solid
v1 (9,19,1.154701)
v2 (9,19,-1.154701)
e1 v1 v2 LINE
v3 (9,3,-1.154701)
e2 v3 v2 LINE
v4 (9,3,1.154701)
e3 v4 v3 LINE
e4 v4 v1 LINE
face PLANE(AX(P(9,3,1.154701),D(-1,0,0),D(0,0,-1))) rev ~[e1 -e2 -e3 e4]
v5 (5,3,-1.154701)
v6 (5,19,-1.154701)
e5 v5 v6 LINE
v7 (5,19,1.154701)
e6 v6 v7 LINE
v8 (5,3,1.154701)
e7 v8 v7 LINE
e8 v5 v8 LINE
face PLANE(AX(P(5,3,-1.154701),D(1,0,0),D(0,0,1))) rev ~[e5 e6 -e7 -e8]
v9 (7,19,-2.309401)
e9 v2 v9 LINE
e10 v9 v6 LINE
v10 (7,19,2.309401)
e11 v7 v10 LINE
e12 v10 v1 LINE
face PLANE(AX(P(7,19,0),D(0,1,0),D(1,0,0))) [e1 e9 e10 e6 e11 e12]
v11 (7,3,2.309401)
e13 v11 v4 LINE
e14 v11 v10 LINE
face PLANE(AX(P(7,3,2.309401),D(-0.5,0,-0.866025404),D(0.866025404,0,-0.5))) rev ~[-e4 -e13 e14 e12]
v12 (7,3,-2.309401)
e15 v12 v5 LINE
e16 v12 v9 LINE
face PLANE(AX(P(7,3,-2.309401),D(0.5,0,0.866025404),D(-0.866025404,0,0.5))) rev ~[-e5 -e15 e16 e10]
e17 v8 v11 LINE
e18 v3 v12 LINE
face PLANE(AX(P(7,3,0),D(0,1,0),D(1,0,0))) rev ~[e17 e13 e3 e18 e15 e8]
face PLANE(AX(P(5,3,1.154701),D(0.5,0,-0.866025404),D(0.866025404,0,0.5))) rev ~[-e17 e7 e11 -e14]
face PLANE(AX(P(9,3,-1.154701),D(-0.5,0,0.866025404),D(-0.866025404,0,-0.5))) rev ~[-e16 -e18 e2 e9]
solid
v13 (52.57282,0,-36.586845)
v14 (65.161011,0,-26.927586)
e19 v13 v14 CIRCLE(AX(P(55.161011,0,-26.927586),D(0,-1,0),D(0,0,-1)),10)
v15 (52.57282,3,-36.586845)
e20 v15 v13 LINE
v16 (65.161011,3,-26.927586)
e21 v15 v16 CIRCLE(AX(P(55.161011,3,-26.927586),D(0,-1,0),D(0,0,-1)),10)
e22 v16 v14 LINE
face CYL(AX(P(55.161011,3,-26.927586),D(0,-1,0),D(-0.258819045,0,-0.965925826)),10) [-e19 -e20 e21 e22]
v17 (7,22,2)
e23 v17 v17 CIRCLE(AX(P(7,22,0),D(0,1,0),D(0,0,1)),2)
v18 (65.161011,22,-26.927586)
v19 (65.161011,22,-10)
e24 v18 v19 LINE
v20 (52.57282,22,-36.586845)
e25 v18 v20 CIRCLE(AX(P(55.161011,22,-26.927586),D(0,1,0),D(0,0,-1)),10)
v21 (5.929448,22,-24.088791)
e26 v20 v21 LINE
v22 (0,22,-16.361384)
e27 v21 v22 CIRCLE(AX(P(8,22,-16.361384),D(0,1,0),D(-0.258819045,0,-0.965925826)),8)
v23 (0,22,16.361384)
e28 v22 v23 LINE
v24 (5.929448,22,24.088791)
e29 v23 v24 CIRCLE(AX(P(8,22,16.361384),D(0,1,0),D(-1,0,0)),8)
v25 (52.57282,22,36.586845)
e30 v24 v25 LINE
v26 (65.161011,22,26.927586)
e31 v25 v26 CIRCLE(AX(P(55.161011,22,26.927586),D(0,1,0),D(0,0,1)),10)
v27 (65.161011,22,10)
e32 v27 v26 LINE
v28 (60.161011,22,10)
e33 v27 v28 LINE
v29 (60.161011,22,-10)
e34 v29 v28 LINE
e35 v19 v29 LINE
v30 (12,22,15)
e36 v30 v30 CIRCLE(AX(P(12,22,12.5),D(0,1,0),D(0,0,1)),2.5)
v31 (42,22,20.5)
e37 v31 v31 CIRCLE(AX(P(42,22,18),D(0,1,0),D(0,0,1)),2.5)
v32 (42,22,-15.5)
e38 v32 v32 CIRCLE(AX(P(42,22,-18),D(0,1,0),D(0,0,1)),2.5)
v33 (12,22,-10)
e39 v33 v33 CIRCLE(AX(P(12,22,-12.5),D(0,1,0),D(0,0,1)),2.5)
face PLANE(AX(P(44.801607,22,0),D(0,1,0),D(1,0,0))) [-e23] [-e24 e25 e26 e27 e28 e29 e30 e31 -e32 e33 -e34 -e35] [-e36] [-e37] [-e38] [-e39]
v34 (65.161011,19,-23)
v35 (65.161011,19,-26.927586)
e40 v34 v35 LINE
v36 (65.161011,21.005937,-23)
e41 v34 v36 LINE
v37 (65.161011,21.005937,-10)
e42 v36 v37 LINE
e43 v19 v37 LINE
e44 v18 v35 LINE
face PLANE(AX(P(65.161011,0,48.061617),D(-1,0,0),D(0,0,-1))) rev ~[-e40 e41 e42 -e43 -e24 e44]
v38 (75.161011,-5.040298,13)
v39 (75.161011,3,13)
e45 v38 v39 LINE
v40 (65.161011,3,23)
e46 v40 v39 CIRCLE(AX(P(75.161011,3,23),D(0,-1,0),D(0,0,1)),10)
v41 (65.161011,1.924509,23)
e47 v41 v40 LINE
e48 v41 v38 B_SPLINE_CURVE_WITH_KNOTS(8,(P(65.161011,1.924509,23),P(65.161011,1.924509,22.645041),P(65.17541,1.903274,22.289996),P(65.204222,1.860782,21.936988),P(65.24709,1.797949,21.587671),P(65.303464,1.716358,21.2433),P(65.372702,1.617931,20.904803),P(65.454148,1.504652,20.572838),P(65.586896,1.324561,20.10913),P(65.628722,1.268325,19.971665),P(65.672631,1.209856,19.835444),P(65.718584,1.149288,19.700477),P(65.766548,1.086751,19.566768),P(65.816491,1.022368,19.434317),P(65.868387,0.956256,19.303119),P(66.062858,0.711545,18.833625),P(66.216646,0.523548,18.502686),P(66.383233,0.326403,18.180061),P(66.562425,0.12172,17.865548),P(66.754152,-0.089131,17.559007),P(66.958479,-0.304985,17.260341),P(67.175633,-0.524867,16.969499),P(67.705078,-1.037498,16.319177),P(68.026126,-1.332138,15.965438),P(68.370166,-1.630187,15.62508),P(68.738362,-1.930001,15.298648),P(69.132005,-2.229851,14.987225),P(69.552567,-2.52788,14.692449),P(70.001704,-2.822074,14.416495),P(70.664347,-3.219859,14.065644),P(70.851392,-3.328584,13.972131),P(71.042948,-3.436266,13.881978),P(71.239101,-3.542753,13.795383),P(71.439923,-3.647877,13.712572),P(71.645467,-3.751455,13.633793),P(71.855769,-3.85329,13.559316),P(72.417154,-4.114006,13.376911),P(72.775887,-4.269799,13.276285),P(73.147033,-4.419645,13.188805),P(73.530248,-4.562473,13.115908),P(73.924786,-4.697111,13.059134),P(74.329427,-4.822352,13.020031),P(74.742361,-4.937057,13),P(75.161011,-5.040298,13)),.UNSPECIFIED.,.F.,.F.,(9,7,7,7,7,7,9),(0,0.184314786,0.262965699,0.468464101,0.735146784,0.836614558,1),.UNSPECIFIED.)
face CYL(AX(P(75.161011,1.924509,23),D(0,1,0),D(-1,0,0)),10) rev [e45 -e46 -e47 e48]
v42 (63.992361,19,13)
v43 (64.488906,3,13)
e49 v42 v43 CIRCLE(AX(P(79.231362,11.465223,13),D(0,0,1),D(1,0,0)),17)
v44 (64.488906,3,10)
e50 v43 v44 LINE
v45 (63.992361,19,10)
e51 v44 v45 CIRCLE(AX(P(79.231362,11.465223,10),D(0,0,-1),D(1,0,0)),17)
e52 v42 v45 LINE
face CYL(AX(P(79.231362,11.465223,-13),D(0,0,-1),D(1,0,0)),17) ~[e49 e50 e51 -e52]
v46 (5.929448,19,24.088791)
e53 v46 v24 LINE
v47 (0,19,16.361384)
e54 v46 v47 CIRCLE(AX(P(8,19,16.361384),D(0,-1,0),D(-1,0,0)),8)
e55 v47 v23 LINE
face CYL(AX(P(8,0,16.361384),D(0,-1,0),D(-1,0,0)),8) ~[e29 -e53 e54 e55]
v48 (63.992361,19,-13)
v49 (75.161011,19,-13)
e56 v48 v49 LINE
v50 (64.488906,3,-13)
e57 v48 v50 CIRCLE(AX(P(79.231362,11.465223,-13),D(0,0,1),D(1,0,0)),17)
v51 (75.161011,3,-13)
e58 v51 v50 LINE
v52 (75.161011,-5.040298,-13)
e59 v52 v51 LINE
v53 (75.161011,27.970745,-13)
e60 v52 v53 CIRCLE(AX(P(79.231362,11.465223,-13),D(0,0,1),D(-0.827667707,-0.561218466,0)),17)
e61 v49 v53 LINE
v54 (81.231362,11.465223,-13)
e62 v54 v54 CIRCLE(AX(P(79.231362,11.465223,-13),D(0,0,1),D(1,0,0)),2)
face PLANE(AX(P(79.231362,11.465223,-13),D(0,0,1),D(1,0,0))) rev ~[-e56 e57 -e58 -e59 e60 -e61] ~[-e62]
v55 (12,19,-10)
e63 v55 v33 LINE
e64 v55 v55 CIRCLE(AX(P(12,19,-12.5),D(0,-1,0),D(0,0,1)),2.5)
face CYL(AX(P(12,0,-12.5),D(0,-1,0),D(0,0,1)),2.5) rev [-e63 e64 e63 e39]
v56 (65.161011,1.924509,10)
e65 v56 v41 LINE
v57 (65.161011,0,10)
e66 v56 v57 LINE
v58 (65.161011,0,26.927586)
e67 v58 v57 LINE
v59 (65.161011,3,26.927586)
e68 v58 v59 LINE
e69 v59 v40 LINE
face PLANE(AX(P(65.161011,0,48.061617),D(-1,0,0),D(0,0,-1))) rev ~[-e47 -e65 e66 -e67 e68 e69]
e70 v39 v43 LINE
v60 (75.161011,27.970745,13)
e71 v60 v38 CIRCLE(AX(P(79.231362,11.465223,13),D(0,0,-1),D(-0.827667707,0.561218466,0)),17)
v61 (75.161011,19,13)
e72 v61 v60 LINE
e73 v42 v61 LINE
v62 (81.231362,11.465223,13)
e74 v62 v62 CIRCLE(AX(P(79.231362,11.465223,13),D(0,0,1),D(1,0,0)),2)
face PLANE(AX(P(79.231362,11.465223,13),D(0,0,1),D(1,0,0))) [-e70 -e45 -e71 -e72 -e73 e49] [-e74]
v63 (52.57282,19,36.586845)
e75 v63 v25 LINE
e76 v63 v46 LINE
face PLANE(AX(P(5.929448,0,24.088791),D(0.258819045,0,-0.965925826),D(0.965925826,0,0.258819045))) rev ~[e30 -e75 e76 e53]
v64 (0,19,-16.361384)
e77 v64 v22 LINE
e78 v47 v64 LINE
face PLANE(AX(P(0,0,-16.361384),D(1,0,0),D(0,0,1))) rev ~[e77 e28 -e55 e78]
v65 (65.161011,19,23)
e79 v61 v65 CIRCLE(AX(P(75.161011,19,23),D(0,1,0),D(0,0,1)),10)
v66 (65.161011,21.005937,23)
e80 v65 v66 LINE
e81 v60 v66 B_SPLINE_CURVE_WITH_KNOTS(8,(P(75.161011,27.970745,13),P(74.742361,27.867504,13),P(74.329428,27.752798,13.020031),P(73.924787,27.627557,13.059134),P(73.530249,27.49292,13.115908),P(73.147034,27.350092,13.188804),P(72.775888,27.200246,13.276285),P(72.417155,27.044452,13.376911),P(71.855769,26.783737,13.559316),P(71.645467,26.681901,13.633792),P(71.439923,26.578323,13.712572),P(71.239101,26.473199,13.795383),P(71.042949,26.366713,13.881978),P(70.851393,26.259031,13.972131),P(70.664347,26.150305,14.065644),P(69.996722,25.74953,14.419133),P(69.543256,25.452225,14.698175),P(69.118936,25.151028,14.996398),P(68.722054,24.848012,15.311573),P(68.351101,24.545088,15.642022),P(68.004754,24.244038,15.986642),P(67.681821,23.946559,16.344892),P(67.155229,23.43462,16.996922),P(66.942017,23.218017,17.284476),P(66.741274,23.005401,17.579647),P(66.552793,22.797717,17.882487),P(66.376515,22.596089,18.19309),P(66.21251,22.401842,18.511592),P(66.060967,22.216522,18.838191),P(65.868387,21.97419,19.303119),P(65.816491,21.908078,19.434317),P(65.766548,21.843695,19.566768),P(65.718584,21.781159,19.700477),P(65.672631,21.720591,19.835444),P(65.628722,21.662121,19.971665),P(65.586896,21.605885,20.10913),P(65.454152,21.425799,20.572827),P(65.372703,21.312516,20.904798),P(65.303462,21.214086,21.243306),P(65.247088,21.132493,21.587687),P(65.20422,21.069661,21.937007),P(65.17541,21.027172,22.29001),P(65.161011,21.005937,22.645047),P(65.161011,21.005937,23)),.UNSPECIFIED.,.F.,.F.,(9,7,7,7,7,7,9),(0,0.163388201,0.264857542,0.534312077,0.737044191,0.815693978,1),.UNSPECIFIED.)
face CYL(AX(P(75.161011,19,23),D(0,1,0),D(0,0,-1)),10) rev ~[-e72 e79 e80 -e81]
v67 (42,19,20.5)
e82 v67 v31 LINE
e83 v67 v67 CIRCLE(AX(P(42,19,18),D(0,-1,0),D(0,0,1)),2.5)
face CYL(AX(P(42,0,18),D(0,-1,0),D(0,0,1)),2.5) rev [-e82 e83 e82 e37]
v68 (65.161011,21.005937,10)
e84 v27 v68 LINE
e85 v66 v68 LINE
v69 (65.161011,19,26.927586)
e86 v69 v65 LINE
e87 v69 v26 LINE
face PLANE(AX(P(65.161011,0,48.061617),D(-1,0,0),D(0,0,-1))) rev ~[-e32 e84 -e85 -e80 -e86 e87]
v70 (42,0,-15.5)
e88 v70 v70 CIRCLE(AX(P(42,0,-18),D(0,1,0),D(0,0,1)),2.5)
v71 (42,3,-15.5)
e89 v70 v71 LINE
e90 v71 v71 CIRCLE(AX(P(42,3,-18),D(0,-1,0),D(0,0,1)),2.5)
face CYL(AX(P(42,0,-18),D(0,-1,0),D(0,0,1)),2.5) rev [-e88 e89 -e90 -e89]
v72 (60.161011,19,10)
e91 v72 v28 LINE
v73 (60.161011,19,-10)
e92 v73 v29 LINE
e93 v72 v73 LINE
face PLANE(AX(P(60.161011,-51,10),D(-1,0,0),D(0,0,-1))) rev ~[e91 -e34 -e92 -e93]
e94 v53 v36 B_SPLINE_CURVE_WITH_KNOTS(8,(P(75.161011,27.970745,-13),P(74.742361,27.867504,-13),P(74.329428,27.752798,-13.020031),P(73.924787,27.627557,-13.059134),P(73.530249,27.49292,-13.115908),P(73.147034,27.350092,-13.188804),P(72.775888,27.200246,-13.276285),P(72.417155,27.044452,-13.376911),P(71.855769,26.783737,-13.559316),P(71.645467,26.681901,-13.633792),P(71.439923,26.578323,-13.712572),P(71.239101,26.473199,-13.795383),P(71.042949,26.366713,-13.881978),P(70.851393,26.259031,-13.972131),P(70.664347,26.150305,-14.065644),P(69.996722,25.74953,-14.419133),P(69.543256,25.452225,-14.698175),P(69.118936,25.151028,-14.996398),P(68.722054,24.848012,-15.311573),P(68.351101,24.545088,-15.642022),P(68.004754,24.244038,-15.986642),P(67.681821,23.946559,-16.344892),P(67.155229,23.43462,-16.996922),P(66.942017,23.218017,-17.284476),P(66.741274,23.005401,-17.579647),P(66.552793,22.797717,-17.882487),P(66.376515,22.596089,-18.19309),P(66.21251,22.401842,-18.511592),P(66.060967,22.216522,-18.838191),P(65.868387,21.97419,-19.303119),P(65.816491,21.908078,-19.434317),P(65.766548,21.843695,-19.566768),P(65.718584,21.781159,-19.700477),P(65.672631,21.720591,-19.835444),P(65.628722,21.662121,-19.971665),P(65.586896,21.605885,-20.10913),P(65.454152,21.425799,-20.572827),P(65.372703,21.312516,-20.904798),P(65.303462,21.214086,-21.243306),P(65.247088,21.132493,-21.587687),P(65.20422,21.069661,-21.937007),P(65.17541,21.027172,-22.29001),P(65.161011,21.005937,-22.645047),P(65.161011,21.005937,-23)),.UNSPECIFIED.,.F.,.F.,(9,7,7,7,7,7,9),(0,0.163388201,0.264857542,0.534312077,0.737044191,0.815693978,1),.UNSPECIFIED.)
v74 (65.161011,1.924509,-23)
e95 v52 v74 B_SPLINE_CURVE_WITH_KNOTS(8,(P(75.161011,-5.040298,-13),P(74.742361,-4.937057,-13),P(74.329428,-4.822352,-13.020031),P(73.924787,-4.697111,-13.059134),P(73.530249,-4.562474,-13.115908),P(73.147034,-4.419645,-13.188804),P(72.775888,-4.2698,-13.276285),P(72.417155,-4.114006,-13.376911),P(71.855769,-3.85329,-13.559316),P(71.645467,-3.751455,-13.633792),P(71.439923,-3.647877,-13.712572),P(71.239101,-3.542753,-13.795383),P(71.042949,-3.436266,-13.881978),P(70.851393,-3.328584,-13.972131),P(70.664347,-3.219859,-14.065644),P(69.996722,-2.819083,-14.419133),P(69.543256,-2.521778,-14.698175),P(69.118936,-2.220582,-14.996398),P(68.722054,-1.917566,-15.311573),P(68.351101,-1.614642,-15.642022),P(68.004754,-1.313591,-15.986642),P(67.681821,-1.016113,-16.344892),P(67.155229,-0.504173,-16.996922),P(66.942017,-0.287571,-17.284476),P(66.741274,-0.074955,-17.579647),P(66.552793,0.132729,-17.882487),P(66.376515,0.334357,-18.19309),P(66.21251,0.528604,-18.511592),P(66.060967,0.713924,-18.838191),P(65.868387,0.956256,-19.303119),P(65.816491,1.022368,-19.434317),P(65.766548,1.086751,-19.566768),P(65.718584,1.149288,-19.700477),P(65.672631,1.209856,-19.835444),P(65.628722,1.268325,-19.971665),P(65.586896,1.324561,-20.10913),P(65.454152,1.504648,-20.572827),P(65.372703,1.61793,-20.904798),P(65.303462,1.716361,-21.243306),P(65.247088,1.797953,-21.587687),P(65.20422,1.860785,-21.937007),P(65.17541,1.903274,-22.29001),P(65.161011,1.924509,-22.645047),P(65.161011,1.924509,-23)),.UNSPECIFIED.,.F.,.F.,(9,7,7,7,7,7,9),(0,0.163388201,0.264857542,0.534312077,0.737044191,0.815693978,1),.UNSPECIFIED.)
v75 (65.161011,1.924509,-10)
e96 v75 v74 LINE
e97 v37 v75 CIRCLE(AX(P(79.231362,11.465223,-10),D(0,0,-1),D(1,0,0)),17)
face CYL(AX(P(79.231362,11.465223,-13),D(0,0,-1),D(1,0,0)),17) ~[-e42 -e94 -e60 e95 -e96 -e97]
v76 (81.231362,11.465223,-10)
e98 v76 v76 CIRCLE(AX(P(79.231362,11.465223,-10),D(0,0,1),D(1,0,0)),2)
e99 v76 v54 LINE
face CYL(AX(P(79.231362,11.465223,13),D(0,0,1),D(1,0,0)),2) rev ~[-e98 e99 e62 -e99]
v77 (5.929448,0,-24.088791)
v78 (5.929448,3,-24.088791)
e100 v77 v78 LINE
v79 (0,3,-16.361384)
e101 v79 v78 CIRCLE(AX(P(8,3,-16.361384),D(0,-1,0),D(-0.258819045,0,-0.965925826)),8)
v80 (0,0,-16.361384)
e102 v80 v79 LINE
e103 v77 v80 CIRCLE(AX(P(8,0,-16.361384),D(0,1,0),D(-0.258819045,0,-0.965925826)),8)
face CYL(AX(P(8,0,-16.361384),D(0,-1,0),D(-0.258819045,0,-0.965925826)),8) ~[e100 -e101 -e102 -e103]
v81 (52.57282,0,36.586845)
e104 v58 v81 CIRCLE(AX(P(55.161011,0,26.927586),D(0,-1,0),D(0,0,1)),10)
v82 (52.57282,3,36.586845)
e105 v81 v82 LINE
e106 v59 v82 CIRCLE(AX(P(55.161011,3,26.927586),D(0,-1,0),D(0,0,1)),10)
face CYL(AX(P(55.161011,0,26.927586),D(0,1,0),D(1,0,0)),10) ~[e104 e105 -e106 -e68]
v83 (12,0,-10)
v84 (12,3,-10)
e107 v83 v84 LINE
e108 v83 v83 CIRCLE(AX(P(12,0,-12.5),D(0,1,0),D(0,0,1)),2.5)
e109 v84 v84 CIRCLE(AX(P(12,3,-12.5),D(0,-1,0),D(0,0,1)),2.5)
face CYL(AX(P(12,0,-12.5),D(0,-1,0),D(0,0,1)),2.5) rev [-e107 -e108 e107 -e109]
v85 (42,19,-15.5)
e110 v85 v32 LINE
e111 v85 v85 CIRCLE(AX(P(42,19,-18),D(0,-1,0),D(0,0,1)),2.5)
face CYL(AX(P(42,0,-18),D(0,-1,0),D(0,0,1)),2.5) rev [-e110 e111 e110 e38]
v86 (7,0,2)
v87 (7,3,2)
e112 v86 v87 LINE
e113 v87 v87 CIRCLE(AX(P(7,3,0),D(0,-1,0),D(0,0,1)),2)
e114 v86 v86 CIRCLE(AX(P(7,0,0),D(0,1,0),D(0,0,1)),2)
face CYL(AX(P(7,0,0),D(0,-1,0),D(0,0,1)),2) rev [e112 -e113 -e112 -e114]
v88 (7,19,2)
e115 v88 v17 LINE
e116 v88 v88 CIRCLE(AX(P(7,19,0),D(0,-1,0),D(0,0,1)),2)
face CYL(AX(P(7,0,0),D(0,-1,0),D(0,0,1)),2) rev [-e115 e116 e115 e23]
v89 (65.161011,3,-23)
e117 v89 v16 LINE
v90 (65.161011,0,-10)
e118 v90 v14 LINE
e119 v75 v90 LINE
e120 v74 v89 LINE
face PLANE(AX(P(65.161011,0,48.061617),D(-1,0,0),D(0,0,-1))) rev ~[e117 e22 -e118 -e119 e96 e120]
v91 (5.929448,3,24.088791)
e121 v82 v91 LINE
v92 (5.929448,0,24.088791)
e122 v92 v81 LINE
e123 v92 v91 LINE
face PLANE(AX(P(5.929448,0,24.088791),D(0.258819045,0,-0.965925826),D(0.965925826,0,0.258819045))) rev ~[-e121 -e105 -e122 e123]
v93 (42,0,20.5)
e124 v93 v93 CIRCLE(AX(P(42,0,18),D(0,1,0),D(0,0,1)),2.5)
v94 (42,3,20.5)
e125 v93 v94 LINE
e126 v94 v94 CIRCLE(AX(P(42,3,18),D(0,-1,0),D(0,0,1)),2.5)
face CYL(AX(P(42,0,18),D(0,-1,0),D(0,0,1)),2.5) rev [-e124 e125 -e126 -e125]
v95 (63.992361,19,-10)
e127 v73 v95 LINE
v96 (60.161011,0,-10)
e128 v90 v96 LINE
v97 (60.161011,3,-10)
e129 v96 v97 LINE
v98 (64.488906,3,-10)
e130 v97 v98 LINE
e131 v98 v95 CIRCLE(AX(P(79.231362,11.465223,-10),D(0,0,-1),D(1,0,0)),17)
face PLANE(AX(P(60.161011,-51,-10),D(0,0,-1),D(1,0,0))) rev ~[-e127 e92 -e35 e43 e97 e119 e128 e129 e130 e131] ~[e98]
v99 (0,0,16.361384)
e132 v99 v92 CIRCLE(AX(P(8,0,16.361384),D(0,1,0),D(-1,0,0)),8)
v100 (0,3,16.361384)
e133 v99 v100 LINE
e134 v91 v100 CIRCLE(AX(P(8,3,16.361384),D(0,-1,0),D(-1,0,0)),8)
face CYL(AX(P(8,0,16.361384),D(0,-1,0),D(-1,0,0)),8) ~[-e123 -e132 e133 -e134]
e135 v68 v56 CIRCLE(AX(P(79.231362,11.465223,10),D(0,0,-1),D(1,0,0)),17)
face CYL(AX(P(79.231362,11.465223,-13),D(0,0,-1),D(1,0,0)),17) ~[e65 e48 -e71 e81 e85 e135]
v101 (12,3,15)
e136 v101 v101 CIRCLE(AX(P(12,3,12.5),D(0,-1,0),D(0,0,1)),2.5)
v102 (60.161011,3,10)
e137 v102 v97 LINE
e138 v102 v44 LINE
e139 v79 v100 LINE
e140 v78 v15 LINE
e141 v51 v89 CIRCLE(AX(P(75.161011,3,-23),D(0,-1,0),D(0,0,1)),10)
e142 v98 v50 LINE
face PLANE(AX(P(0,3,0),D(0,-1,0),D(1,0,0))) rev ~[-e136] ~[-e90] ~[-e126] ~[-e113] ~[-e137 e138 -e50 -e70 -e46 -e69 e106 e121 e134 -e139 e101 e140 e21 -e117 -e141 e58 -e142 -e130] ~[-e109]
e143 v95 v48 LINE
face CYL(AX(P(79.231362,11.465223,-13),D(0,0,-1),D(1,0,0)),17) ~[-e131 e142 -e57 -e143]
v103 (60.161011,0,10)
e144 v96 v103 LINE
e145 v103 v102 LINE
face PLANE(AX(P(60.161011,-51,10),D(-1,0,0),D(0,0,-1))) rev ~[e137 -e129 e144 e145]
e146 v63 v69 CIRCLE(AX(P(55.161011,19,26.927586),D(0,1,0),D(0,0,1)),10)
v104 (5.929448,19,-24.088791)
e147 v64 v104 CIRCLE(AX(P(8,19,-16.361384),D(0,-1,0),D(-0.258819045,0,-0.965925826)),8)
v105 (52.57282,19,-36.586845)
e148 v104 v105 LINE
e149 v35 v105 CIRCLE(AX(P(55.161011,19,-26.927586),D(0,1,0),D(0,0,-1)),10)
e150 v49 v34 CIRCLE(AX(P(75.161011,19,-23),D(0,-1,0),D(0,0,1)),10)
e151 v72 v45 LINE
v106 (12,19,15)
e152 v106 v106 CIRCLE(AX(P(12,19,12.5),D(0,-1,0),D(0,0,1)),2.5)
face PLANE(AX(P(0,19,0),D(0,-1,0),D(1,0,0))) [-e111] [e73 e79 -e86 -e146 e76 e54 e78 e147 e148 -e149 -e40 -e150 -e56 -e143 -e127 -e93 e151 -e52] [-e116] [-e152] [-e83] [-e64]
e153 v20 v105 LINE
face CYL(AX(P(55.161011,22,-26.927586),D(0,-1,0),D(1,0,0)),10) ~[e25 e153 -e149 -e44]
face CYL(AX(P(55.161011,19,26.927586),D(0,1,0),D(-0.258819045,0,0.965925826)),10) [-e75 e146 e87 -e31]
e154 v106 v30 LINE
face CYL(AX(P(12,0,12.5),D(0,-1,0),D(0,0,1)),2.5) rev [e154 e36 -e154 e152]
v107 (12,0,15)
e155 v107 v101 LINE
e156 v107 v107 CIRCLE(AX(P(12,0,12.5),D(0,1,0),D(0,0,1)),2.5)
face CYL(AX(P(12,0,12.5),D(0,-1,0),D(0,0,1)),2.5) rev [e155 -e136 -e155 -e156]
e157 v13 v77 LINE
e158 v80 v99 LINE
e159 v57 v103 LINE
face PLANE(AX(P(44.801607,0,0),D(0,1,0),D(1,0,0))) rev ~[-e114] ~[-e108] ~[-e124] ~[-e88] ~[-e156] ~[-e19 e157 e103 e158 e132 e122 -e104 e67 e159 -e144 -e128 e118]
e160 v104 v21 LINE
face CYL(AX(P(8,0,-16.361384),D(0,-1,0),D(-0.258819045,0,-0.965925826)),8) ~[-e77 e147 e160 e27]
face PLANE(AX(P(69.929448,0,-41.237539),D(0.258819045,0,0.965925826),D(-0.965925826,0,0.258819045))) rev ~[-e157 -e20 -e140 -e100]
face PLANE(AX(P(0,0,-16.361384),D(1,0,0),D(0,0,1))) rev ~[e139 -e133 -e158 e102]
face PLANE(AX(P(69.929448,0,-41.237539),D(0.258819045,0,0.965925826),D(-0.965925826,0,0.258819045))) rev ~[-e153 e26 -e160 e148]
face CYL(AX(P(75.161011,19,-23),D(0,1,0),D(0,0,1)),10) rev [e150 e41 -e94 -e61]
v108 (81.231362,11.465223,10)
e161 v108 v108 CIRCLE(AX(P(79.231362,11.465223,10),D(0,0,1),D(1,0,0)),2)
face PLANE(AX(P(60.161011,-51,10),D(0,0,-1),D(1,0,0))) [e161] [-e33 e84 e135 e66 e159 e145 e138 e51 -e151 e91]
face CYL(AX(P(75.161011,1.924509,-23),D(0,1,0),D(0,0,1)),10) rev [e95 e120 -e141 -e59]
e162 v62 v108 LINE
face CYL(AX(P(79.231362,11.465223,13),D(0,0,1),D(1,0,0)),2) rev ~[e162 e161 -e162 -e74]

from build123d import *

# Parameters (mm, degrees)
CROQUIS1_R                = 2.5
CROQUIS1_R_2              = 2
SALIENTE_EXTRUIR1_DEPTH   = 22
CROQUIS2_W                = 80
CROQUIS2_H                = 16
CORTAR_EXTRUIR1_DEPTH     = 50
SALIENTE_EXTRUIR2_DEPTH   = 16
SALIENTE_EXTRUIR2_2_DEPTH = 16
SALIENTE_EXTRUIR2_3_DEPTH = 16
SKETCH2_W                 = 24.073282634
SKETCH2_H                 = 99.797965629
CUT_EXTRUDE3_DEPTH        = 31
FILLET2_R                 = 10
FILLET3_R                 = 10
BOSS_EXTRUDE1_DEPTH       = 13
BOSS_EXTRUDE1_DEPTH_BACK  = 13
SKETCH3_R                 = 17
CUT_EXTRUDE4_DEPTH        = 51
CUT_EXTRUDE4_DEPTH_BACK   = 51
SKETCH4_W                 = 61.979408986
SKETCH4_H                 = 20
SKETCH5_R                 = 2
CUT_EXTRUDE5_DEPTH        = 51
FILLET4_R                 = 10


with BuildPart() as part:
    # Croquis1 → Saliente-Extruir1 (new body)
    with BuildSketch(Plane(origin=(0, 0, 0), x_dir=(1, 0, 0), z_dir=(0, 1, 0))):
        with BuildLine():
            Line((0, 16.361384096), (0, -16.361384096))
            ThreePointArc((0, -16.361384096), (1.653173278, -21.231475528), (5.929447639, -24.088790706))
            Line((5.929447639, -24.088790706), (69.929447639, -41.237539022))
            ThreePointArc((69.929447639, -41.237539022), (76.870091432, -39.856959134), (80, -33.510132412))
            Line((80, -33.510132412), (80, 33.510132412))
            ThreePointArc((80, 33.510132412), (76.870091432, 39.856959134), (69.929447639, 41.237539022))
            Line((69.929447639, 41.237539022), (5.929447639, 24.088790706))
            ThreePointArc((5.929447639, 24.088790706), (1.653173278, 21.231475528), (0, 16.361384096))
        make_face()
        with Locations((12, 12.5)):
            Circle(CROQUIS1_R, mode=Mode.SUBTRACT)
        with Locations((12, -12.5)):
            Circle(CROQUIS1_R, mode=Mode.SUBTRACT)
        with Locations((42, 18)):
            Circle(CROQUIS1_R, mode=Mode.SUBTRACT)
        with Locations((42, -18)):
            Circle(CROQUIS1_R, mode=Mode.SUBTRACT)
        with Locations((7, 0)):
            Circle(CROQUIS1_R_2, mode=Mode.SUBTRACT)
        with Locations((72, -30)):
            Circle(CROQUIS1_R_2, mode=Mode.SUBTRACT)
        with Locations((72, 30)):
            Circle(CROQUIS1_R_2, mode=Mode.SUBTRACT)
    extrude(amount=SALIENTE_EXTRUIR1_DEPTH)

    # Croquis2 → Cortar-Extruir1 (cut, symmetric)
    with BuildSketch(Plane.XY):
        with Locations((40, 11)):
            Rectangle(CROQUIS2_W, CROQUIS2_H)
    extrude(amount=CORTAR_EXTRUIR1_DEPTH, both=True, mode=Mode.SUBTRACT)


with BuildPart() as cortar_extruir1_piece_1:
    # of the separate pieces the step leaves, piece 1, a body of its own (cortar_extruir1_pieces)
    add(part.part.solids().sort_by_distance((69.929447639, 0, -41.237539022))[0])


with BuildPart() as cortar_extruir1_piece_2:
    # of the separate pieces the step leaves, piece 2, a body of its own (cortar_extruir1_pieces)
    add(part.part.solids().sort_by_distance((5.929447639, 19, -24.088790706))[0])


with BuildPart() as body_3:
    # Croquis3 → Saliente-Extruir2 (new body)
    with BuildSketch(Plane(origin=(0, 3, 0), x_dir=(1, 0, 0), z_dir=(0, 1, 0))):
        Polygon((7, -2.309401077), (9, -1.154700538), (9, 1.154700538), (7, 2.309401077), (5, 1.154700538), (5, -1.154700538), align=None)
    extrude(amount=SALIENTE_EXTRUIR2_DEPTH)


with BuildPart() as body_4:
    # Croquis3 → Saliente-Extruir2 2 (new body)
    with BuildSketch(Plane(origin=(0, 3, 0), x_dir=(1, 0, 0), z_dir=(0, 1, 0))):
        Polygon((70.845299462, -32), (73.154700538, -32), (74.309401077, -30), (73.154700538, -28), (70.845299462, -28), (69.690598923, -30), align=None)
    extrude(amount=SALIENTE_EXTRUIR2_2_DEPTH)


with BuildPart() as body_5:
    # Croquis3 → Saliente-Extruir2 3 (new body)
    with BuildSketch(Plane(origin=(0, 3, 0), x_dir=(1, 0, 0), z_dir=(0, 1, 0))):
        Polygon((74, 28.845299462), (74, 31.154700538), (72, 32.309401077), (70, 31.154700538), (70, 28.845299462), (72, 27.690598923), align=None)
    extrude(amount=SALIENTE_EXTRUIR2_3_DEPTH)


with BuildPart() as cut_extrude3_tool:
    # Sketch2 → Cut-Extrude3 (new body)
    with BuildSketch(Plane(origin=(0, 0, 0), x_dir=(1, 0, 0), z_dir=(0, 1, 0))):
        with Locations((77.197652104, 1.837365647)):
            Rectangle(SKETCH2_W, SKETCH2_H)
    extrude(amount=CUT_EXTRUDE3_DEPTH)


with BuildPart() as cortar_extruir1_piece_1_1:
    add(cortar_extruir1_piece_1.part)

    # Cut-Extrude3: cut by cut_extrude3_tool
    add(cut_extrude3_tool.part, mode=Mode.SUBTRACT)

    # Fillet3
    fillet3_edges = [cortar_extruir1_piece_1_1.edges().sort_by_distance(p)[0] for p in [
        (65.161010787, 1.5, 39.959840218),
        (65.161010787, 1.5, -39.959840218),
    ]]
    fillet(fillet3_edges, radius=FILLET3_R)



with BuildPart() as cortar_extruir1_piece_2_1:
    add(cortar_extruir1_piece_2.part)

    # Cut-Extrude3: cut by cut_extrude3_tool
    add(cut_extrude3_tool.part, mode=Mode.SUBTRACT)

    # Fillet2
    fillet2_edges = [cortar_extruir1_piece_2_1.edges().sort_by_distance(p)[0] for p in [
        (65.161010787, 20.5, -39.959840218),
        (65.161010787, 20.5, 39.959840218),
    ]]
    fillet(fillet2_edges, radius=FILLET2_R)


with BuildPart() as body_4_1:
    add(body_4.part)

    # Cut-Extrude3: cut by cut_extrude3_tool
    add(cut_extrude3_tool.part, mode=Mode.SUBTRACT)


with BuildPart() as body_5_1:
    add(body_5.part)

    # Cut-Extrude3: cut by cut_extrude3_tool
    add(cut_extrude3_tool.part, mode=Mode.SUBTRACT)


with BuildPart() as cortar_extruir1_piece_1_2:
    add(cortar_extruir1_piece_1_1.part)

    add(cortar_extruir1_piece_2_1.part)  # Boss-Extrude1 merges Cortar-Extruir1 piece 2
    # Sketch3 → Boss-Extrude1 (add, two sides: drawn at the far end of the back side and taken through both)
    with BuildSketch(Plane.XY.offset(-BOSS_EXTRUDE1_DEPTH_BACK)):
        with Locations((79.23136181, 11.465223166)):
            Circle(SKETCH3_R)
    extrude(amount=BOSS_EXTRUDE1_DEPTH + BOSS_EXTRUDE1_DEPTH_BACK)

    # Sketch4 → Cut-Extrude4 (cut, two sides: drawn at the far end of the back side and taken through both)
    with BuildSketch(Plane(origin=(0, 0, 0), x_dir=(1, 0, 0), z_dir=(0, 1, 0)).offset(-CUT_EXTRUDE4_DEPTH_BACK)):
        with Locations((91.15071528, 0)):
            Rectangle(SKETCH4_W, SKETCH4_H)
    extrude(amount=CUT_EXTRUDE4_DEPTH + CUT_EXTRUDE4_DEPTH_BACK, mode=Mode.SUBTRACT)

    # Sketch5 → Cut-Extrude5 (cut)
    with BuildSketch(Plane.XY.offset(13)):
        with Locations((79.23136181, 11.465223166)):
            Circle(SKETCH5_R)
    extrude(amount=-CUT_EXTRUDE5_DEPTH, mode=Mode.SUBTRACT)

    # Fillet4
    fillet4_edges = [cortar_extruir1_piece_1_2.edges().sort_by_distance(p)[0] for p in [
        (65.161010787, 20.002968543, 13),
        (65.161010787, 2.462254623, 13),
        (65.161010787, 20.002968543, -13),
        (65.161010787, 2.462254623, -13),
    ]]
    fillet(fillet4_edges, radius=FILLET4_R)


solid = Compound([body_3.part, cortar_extruir1_piece_1_2.part])
